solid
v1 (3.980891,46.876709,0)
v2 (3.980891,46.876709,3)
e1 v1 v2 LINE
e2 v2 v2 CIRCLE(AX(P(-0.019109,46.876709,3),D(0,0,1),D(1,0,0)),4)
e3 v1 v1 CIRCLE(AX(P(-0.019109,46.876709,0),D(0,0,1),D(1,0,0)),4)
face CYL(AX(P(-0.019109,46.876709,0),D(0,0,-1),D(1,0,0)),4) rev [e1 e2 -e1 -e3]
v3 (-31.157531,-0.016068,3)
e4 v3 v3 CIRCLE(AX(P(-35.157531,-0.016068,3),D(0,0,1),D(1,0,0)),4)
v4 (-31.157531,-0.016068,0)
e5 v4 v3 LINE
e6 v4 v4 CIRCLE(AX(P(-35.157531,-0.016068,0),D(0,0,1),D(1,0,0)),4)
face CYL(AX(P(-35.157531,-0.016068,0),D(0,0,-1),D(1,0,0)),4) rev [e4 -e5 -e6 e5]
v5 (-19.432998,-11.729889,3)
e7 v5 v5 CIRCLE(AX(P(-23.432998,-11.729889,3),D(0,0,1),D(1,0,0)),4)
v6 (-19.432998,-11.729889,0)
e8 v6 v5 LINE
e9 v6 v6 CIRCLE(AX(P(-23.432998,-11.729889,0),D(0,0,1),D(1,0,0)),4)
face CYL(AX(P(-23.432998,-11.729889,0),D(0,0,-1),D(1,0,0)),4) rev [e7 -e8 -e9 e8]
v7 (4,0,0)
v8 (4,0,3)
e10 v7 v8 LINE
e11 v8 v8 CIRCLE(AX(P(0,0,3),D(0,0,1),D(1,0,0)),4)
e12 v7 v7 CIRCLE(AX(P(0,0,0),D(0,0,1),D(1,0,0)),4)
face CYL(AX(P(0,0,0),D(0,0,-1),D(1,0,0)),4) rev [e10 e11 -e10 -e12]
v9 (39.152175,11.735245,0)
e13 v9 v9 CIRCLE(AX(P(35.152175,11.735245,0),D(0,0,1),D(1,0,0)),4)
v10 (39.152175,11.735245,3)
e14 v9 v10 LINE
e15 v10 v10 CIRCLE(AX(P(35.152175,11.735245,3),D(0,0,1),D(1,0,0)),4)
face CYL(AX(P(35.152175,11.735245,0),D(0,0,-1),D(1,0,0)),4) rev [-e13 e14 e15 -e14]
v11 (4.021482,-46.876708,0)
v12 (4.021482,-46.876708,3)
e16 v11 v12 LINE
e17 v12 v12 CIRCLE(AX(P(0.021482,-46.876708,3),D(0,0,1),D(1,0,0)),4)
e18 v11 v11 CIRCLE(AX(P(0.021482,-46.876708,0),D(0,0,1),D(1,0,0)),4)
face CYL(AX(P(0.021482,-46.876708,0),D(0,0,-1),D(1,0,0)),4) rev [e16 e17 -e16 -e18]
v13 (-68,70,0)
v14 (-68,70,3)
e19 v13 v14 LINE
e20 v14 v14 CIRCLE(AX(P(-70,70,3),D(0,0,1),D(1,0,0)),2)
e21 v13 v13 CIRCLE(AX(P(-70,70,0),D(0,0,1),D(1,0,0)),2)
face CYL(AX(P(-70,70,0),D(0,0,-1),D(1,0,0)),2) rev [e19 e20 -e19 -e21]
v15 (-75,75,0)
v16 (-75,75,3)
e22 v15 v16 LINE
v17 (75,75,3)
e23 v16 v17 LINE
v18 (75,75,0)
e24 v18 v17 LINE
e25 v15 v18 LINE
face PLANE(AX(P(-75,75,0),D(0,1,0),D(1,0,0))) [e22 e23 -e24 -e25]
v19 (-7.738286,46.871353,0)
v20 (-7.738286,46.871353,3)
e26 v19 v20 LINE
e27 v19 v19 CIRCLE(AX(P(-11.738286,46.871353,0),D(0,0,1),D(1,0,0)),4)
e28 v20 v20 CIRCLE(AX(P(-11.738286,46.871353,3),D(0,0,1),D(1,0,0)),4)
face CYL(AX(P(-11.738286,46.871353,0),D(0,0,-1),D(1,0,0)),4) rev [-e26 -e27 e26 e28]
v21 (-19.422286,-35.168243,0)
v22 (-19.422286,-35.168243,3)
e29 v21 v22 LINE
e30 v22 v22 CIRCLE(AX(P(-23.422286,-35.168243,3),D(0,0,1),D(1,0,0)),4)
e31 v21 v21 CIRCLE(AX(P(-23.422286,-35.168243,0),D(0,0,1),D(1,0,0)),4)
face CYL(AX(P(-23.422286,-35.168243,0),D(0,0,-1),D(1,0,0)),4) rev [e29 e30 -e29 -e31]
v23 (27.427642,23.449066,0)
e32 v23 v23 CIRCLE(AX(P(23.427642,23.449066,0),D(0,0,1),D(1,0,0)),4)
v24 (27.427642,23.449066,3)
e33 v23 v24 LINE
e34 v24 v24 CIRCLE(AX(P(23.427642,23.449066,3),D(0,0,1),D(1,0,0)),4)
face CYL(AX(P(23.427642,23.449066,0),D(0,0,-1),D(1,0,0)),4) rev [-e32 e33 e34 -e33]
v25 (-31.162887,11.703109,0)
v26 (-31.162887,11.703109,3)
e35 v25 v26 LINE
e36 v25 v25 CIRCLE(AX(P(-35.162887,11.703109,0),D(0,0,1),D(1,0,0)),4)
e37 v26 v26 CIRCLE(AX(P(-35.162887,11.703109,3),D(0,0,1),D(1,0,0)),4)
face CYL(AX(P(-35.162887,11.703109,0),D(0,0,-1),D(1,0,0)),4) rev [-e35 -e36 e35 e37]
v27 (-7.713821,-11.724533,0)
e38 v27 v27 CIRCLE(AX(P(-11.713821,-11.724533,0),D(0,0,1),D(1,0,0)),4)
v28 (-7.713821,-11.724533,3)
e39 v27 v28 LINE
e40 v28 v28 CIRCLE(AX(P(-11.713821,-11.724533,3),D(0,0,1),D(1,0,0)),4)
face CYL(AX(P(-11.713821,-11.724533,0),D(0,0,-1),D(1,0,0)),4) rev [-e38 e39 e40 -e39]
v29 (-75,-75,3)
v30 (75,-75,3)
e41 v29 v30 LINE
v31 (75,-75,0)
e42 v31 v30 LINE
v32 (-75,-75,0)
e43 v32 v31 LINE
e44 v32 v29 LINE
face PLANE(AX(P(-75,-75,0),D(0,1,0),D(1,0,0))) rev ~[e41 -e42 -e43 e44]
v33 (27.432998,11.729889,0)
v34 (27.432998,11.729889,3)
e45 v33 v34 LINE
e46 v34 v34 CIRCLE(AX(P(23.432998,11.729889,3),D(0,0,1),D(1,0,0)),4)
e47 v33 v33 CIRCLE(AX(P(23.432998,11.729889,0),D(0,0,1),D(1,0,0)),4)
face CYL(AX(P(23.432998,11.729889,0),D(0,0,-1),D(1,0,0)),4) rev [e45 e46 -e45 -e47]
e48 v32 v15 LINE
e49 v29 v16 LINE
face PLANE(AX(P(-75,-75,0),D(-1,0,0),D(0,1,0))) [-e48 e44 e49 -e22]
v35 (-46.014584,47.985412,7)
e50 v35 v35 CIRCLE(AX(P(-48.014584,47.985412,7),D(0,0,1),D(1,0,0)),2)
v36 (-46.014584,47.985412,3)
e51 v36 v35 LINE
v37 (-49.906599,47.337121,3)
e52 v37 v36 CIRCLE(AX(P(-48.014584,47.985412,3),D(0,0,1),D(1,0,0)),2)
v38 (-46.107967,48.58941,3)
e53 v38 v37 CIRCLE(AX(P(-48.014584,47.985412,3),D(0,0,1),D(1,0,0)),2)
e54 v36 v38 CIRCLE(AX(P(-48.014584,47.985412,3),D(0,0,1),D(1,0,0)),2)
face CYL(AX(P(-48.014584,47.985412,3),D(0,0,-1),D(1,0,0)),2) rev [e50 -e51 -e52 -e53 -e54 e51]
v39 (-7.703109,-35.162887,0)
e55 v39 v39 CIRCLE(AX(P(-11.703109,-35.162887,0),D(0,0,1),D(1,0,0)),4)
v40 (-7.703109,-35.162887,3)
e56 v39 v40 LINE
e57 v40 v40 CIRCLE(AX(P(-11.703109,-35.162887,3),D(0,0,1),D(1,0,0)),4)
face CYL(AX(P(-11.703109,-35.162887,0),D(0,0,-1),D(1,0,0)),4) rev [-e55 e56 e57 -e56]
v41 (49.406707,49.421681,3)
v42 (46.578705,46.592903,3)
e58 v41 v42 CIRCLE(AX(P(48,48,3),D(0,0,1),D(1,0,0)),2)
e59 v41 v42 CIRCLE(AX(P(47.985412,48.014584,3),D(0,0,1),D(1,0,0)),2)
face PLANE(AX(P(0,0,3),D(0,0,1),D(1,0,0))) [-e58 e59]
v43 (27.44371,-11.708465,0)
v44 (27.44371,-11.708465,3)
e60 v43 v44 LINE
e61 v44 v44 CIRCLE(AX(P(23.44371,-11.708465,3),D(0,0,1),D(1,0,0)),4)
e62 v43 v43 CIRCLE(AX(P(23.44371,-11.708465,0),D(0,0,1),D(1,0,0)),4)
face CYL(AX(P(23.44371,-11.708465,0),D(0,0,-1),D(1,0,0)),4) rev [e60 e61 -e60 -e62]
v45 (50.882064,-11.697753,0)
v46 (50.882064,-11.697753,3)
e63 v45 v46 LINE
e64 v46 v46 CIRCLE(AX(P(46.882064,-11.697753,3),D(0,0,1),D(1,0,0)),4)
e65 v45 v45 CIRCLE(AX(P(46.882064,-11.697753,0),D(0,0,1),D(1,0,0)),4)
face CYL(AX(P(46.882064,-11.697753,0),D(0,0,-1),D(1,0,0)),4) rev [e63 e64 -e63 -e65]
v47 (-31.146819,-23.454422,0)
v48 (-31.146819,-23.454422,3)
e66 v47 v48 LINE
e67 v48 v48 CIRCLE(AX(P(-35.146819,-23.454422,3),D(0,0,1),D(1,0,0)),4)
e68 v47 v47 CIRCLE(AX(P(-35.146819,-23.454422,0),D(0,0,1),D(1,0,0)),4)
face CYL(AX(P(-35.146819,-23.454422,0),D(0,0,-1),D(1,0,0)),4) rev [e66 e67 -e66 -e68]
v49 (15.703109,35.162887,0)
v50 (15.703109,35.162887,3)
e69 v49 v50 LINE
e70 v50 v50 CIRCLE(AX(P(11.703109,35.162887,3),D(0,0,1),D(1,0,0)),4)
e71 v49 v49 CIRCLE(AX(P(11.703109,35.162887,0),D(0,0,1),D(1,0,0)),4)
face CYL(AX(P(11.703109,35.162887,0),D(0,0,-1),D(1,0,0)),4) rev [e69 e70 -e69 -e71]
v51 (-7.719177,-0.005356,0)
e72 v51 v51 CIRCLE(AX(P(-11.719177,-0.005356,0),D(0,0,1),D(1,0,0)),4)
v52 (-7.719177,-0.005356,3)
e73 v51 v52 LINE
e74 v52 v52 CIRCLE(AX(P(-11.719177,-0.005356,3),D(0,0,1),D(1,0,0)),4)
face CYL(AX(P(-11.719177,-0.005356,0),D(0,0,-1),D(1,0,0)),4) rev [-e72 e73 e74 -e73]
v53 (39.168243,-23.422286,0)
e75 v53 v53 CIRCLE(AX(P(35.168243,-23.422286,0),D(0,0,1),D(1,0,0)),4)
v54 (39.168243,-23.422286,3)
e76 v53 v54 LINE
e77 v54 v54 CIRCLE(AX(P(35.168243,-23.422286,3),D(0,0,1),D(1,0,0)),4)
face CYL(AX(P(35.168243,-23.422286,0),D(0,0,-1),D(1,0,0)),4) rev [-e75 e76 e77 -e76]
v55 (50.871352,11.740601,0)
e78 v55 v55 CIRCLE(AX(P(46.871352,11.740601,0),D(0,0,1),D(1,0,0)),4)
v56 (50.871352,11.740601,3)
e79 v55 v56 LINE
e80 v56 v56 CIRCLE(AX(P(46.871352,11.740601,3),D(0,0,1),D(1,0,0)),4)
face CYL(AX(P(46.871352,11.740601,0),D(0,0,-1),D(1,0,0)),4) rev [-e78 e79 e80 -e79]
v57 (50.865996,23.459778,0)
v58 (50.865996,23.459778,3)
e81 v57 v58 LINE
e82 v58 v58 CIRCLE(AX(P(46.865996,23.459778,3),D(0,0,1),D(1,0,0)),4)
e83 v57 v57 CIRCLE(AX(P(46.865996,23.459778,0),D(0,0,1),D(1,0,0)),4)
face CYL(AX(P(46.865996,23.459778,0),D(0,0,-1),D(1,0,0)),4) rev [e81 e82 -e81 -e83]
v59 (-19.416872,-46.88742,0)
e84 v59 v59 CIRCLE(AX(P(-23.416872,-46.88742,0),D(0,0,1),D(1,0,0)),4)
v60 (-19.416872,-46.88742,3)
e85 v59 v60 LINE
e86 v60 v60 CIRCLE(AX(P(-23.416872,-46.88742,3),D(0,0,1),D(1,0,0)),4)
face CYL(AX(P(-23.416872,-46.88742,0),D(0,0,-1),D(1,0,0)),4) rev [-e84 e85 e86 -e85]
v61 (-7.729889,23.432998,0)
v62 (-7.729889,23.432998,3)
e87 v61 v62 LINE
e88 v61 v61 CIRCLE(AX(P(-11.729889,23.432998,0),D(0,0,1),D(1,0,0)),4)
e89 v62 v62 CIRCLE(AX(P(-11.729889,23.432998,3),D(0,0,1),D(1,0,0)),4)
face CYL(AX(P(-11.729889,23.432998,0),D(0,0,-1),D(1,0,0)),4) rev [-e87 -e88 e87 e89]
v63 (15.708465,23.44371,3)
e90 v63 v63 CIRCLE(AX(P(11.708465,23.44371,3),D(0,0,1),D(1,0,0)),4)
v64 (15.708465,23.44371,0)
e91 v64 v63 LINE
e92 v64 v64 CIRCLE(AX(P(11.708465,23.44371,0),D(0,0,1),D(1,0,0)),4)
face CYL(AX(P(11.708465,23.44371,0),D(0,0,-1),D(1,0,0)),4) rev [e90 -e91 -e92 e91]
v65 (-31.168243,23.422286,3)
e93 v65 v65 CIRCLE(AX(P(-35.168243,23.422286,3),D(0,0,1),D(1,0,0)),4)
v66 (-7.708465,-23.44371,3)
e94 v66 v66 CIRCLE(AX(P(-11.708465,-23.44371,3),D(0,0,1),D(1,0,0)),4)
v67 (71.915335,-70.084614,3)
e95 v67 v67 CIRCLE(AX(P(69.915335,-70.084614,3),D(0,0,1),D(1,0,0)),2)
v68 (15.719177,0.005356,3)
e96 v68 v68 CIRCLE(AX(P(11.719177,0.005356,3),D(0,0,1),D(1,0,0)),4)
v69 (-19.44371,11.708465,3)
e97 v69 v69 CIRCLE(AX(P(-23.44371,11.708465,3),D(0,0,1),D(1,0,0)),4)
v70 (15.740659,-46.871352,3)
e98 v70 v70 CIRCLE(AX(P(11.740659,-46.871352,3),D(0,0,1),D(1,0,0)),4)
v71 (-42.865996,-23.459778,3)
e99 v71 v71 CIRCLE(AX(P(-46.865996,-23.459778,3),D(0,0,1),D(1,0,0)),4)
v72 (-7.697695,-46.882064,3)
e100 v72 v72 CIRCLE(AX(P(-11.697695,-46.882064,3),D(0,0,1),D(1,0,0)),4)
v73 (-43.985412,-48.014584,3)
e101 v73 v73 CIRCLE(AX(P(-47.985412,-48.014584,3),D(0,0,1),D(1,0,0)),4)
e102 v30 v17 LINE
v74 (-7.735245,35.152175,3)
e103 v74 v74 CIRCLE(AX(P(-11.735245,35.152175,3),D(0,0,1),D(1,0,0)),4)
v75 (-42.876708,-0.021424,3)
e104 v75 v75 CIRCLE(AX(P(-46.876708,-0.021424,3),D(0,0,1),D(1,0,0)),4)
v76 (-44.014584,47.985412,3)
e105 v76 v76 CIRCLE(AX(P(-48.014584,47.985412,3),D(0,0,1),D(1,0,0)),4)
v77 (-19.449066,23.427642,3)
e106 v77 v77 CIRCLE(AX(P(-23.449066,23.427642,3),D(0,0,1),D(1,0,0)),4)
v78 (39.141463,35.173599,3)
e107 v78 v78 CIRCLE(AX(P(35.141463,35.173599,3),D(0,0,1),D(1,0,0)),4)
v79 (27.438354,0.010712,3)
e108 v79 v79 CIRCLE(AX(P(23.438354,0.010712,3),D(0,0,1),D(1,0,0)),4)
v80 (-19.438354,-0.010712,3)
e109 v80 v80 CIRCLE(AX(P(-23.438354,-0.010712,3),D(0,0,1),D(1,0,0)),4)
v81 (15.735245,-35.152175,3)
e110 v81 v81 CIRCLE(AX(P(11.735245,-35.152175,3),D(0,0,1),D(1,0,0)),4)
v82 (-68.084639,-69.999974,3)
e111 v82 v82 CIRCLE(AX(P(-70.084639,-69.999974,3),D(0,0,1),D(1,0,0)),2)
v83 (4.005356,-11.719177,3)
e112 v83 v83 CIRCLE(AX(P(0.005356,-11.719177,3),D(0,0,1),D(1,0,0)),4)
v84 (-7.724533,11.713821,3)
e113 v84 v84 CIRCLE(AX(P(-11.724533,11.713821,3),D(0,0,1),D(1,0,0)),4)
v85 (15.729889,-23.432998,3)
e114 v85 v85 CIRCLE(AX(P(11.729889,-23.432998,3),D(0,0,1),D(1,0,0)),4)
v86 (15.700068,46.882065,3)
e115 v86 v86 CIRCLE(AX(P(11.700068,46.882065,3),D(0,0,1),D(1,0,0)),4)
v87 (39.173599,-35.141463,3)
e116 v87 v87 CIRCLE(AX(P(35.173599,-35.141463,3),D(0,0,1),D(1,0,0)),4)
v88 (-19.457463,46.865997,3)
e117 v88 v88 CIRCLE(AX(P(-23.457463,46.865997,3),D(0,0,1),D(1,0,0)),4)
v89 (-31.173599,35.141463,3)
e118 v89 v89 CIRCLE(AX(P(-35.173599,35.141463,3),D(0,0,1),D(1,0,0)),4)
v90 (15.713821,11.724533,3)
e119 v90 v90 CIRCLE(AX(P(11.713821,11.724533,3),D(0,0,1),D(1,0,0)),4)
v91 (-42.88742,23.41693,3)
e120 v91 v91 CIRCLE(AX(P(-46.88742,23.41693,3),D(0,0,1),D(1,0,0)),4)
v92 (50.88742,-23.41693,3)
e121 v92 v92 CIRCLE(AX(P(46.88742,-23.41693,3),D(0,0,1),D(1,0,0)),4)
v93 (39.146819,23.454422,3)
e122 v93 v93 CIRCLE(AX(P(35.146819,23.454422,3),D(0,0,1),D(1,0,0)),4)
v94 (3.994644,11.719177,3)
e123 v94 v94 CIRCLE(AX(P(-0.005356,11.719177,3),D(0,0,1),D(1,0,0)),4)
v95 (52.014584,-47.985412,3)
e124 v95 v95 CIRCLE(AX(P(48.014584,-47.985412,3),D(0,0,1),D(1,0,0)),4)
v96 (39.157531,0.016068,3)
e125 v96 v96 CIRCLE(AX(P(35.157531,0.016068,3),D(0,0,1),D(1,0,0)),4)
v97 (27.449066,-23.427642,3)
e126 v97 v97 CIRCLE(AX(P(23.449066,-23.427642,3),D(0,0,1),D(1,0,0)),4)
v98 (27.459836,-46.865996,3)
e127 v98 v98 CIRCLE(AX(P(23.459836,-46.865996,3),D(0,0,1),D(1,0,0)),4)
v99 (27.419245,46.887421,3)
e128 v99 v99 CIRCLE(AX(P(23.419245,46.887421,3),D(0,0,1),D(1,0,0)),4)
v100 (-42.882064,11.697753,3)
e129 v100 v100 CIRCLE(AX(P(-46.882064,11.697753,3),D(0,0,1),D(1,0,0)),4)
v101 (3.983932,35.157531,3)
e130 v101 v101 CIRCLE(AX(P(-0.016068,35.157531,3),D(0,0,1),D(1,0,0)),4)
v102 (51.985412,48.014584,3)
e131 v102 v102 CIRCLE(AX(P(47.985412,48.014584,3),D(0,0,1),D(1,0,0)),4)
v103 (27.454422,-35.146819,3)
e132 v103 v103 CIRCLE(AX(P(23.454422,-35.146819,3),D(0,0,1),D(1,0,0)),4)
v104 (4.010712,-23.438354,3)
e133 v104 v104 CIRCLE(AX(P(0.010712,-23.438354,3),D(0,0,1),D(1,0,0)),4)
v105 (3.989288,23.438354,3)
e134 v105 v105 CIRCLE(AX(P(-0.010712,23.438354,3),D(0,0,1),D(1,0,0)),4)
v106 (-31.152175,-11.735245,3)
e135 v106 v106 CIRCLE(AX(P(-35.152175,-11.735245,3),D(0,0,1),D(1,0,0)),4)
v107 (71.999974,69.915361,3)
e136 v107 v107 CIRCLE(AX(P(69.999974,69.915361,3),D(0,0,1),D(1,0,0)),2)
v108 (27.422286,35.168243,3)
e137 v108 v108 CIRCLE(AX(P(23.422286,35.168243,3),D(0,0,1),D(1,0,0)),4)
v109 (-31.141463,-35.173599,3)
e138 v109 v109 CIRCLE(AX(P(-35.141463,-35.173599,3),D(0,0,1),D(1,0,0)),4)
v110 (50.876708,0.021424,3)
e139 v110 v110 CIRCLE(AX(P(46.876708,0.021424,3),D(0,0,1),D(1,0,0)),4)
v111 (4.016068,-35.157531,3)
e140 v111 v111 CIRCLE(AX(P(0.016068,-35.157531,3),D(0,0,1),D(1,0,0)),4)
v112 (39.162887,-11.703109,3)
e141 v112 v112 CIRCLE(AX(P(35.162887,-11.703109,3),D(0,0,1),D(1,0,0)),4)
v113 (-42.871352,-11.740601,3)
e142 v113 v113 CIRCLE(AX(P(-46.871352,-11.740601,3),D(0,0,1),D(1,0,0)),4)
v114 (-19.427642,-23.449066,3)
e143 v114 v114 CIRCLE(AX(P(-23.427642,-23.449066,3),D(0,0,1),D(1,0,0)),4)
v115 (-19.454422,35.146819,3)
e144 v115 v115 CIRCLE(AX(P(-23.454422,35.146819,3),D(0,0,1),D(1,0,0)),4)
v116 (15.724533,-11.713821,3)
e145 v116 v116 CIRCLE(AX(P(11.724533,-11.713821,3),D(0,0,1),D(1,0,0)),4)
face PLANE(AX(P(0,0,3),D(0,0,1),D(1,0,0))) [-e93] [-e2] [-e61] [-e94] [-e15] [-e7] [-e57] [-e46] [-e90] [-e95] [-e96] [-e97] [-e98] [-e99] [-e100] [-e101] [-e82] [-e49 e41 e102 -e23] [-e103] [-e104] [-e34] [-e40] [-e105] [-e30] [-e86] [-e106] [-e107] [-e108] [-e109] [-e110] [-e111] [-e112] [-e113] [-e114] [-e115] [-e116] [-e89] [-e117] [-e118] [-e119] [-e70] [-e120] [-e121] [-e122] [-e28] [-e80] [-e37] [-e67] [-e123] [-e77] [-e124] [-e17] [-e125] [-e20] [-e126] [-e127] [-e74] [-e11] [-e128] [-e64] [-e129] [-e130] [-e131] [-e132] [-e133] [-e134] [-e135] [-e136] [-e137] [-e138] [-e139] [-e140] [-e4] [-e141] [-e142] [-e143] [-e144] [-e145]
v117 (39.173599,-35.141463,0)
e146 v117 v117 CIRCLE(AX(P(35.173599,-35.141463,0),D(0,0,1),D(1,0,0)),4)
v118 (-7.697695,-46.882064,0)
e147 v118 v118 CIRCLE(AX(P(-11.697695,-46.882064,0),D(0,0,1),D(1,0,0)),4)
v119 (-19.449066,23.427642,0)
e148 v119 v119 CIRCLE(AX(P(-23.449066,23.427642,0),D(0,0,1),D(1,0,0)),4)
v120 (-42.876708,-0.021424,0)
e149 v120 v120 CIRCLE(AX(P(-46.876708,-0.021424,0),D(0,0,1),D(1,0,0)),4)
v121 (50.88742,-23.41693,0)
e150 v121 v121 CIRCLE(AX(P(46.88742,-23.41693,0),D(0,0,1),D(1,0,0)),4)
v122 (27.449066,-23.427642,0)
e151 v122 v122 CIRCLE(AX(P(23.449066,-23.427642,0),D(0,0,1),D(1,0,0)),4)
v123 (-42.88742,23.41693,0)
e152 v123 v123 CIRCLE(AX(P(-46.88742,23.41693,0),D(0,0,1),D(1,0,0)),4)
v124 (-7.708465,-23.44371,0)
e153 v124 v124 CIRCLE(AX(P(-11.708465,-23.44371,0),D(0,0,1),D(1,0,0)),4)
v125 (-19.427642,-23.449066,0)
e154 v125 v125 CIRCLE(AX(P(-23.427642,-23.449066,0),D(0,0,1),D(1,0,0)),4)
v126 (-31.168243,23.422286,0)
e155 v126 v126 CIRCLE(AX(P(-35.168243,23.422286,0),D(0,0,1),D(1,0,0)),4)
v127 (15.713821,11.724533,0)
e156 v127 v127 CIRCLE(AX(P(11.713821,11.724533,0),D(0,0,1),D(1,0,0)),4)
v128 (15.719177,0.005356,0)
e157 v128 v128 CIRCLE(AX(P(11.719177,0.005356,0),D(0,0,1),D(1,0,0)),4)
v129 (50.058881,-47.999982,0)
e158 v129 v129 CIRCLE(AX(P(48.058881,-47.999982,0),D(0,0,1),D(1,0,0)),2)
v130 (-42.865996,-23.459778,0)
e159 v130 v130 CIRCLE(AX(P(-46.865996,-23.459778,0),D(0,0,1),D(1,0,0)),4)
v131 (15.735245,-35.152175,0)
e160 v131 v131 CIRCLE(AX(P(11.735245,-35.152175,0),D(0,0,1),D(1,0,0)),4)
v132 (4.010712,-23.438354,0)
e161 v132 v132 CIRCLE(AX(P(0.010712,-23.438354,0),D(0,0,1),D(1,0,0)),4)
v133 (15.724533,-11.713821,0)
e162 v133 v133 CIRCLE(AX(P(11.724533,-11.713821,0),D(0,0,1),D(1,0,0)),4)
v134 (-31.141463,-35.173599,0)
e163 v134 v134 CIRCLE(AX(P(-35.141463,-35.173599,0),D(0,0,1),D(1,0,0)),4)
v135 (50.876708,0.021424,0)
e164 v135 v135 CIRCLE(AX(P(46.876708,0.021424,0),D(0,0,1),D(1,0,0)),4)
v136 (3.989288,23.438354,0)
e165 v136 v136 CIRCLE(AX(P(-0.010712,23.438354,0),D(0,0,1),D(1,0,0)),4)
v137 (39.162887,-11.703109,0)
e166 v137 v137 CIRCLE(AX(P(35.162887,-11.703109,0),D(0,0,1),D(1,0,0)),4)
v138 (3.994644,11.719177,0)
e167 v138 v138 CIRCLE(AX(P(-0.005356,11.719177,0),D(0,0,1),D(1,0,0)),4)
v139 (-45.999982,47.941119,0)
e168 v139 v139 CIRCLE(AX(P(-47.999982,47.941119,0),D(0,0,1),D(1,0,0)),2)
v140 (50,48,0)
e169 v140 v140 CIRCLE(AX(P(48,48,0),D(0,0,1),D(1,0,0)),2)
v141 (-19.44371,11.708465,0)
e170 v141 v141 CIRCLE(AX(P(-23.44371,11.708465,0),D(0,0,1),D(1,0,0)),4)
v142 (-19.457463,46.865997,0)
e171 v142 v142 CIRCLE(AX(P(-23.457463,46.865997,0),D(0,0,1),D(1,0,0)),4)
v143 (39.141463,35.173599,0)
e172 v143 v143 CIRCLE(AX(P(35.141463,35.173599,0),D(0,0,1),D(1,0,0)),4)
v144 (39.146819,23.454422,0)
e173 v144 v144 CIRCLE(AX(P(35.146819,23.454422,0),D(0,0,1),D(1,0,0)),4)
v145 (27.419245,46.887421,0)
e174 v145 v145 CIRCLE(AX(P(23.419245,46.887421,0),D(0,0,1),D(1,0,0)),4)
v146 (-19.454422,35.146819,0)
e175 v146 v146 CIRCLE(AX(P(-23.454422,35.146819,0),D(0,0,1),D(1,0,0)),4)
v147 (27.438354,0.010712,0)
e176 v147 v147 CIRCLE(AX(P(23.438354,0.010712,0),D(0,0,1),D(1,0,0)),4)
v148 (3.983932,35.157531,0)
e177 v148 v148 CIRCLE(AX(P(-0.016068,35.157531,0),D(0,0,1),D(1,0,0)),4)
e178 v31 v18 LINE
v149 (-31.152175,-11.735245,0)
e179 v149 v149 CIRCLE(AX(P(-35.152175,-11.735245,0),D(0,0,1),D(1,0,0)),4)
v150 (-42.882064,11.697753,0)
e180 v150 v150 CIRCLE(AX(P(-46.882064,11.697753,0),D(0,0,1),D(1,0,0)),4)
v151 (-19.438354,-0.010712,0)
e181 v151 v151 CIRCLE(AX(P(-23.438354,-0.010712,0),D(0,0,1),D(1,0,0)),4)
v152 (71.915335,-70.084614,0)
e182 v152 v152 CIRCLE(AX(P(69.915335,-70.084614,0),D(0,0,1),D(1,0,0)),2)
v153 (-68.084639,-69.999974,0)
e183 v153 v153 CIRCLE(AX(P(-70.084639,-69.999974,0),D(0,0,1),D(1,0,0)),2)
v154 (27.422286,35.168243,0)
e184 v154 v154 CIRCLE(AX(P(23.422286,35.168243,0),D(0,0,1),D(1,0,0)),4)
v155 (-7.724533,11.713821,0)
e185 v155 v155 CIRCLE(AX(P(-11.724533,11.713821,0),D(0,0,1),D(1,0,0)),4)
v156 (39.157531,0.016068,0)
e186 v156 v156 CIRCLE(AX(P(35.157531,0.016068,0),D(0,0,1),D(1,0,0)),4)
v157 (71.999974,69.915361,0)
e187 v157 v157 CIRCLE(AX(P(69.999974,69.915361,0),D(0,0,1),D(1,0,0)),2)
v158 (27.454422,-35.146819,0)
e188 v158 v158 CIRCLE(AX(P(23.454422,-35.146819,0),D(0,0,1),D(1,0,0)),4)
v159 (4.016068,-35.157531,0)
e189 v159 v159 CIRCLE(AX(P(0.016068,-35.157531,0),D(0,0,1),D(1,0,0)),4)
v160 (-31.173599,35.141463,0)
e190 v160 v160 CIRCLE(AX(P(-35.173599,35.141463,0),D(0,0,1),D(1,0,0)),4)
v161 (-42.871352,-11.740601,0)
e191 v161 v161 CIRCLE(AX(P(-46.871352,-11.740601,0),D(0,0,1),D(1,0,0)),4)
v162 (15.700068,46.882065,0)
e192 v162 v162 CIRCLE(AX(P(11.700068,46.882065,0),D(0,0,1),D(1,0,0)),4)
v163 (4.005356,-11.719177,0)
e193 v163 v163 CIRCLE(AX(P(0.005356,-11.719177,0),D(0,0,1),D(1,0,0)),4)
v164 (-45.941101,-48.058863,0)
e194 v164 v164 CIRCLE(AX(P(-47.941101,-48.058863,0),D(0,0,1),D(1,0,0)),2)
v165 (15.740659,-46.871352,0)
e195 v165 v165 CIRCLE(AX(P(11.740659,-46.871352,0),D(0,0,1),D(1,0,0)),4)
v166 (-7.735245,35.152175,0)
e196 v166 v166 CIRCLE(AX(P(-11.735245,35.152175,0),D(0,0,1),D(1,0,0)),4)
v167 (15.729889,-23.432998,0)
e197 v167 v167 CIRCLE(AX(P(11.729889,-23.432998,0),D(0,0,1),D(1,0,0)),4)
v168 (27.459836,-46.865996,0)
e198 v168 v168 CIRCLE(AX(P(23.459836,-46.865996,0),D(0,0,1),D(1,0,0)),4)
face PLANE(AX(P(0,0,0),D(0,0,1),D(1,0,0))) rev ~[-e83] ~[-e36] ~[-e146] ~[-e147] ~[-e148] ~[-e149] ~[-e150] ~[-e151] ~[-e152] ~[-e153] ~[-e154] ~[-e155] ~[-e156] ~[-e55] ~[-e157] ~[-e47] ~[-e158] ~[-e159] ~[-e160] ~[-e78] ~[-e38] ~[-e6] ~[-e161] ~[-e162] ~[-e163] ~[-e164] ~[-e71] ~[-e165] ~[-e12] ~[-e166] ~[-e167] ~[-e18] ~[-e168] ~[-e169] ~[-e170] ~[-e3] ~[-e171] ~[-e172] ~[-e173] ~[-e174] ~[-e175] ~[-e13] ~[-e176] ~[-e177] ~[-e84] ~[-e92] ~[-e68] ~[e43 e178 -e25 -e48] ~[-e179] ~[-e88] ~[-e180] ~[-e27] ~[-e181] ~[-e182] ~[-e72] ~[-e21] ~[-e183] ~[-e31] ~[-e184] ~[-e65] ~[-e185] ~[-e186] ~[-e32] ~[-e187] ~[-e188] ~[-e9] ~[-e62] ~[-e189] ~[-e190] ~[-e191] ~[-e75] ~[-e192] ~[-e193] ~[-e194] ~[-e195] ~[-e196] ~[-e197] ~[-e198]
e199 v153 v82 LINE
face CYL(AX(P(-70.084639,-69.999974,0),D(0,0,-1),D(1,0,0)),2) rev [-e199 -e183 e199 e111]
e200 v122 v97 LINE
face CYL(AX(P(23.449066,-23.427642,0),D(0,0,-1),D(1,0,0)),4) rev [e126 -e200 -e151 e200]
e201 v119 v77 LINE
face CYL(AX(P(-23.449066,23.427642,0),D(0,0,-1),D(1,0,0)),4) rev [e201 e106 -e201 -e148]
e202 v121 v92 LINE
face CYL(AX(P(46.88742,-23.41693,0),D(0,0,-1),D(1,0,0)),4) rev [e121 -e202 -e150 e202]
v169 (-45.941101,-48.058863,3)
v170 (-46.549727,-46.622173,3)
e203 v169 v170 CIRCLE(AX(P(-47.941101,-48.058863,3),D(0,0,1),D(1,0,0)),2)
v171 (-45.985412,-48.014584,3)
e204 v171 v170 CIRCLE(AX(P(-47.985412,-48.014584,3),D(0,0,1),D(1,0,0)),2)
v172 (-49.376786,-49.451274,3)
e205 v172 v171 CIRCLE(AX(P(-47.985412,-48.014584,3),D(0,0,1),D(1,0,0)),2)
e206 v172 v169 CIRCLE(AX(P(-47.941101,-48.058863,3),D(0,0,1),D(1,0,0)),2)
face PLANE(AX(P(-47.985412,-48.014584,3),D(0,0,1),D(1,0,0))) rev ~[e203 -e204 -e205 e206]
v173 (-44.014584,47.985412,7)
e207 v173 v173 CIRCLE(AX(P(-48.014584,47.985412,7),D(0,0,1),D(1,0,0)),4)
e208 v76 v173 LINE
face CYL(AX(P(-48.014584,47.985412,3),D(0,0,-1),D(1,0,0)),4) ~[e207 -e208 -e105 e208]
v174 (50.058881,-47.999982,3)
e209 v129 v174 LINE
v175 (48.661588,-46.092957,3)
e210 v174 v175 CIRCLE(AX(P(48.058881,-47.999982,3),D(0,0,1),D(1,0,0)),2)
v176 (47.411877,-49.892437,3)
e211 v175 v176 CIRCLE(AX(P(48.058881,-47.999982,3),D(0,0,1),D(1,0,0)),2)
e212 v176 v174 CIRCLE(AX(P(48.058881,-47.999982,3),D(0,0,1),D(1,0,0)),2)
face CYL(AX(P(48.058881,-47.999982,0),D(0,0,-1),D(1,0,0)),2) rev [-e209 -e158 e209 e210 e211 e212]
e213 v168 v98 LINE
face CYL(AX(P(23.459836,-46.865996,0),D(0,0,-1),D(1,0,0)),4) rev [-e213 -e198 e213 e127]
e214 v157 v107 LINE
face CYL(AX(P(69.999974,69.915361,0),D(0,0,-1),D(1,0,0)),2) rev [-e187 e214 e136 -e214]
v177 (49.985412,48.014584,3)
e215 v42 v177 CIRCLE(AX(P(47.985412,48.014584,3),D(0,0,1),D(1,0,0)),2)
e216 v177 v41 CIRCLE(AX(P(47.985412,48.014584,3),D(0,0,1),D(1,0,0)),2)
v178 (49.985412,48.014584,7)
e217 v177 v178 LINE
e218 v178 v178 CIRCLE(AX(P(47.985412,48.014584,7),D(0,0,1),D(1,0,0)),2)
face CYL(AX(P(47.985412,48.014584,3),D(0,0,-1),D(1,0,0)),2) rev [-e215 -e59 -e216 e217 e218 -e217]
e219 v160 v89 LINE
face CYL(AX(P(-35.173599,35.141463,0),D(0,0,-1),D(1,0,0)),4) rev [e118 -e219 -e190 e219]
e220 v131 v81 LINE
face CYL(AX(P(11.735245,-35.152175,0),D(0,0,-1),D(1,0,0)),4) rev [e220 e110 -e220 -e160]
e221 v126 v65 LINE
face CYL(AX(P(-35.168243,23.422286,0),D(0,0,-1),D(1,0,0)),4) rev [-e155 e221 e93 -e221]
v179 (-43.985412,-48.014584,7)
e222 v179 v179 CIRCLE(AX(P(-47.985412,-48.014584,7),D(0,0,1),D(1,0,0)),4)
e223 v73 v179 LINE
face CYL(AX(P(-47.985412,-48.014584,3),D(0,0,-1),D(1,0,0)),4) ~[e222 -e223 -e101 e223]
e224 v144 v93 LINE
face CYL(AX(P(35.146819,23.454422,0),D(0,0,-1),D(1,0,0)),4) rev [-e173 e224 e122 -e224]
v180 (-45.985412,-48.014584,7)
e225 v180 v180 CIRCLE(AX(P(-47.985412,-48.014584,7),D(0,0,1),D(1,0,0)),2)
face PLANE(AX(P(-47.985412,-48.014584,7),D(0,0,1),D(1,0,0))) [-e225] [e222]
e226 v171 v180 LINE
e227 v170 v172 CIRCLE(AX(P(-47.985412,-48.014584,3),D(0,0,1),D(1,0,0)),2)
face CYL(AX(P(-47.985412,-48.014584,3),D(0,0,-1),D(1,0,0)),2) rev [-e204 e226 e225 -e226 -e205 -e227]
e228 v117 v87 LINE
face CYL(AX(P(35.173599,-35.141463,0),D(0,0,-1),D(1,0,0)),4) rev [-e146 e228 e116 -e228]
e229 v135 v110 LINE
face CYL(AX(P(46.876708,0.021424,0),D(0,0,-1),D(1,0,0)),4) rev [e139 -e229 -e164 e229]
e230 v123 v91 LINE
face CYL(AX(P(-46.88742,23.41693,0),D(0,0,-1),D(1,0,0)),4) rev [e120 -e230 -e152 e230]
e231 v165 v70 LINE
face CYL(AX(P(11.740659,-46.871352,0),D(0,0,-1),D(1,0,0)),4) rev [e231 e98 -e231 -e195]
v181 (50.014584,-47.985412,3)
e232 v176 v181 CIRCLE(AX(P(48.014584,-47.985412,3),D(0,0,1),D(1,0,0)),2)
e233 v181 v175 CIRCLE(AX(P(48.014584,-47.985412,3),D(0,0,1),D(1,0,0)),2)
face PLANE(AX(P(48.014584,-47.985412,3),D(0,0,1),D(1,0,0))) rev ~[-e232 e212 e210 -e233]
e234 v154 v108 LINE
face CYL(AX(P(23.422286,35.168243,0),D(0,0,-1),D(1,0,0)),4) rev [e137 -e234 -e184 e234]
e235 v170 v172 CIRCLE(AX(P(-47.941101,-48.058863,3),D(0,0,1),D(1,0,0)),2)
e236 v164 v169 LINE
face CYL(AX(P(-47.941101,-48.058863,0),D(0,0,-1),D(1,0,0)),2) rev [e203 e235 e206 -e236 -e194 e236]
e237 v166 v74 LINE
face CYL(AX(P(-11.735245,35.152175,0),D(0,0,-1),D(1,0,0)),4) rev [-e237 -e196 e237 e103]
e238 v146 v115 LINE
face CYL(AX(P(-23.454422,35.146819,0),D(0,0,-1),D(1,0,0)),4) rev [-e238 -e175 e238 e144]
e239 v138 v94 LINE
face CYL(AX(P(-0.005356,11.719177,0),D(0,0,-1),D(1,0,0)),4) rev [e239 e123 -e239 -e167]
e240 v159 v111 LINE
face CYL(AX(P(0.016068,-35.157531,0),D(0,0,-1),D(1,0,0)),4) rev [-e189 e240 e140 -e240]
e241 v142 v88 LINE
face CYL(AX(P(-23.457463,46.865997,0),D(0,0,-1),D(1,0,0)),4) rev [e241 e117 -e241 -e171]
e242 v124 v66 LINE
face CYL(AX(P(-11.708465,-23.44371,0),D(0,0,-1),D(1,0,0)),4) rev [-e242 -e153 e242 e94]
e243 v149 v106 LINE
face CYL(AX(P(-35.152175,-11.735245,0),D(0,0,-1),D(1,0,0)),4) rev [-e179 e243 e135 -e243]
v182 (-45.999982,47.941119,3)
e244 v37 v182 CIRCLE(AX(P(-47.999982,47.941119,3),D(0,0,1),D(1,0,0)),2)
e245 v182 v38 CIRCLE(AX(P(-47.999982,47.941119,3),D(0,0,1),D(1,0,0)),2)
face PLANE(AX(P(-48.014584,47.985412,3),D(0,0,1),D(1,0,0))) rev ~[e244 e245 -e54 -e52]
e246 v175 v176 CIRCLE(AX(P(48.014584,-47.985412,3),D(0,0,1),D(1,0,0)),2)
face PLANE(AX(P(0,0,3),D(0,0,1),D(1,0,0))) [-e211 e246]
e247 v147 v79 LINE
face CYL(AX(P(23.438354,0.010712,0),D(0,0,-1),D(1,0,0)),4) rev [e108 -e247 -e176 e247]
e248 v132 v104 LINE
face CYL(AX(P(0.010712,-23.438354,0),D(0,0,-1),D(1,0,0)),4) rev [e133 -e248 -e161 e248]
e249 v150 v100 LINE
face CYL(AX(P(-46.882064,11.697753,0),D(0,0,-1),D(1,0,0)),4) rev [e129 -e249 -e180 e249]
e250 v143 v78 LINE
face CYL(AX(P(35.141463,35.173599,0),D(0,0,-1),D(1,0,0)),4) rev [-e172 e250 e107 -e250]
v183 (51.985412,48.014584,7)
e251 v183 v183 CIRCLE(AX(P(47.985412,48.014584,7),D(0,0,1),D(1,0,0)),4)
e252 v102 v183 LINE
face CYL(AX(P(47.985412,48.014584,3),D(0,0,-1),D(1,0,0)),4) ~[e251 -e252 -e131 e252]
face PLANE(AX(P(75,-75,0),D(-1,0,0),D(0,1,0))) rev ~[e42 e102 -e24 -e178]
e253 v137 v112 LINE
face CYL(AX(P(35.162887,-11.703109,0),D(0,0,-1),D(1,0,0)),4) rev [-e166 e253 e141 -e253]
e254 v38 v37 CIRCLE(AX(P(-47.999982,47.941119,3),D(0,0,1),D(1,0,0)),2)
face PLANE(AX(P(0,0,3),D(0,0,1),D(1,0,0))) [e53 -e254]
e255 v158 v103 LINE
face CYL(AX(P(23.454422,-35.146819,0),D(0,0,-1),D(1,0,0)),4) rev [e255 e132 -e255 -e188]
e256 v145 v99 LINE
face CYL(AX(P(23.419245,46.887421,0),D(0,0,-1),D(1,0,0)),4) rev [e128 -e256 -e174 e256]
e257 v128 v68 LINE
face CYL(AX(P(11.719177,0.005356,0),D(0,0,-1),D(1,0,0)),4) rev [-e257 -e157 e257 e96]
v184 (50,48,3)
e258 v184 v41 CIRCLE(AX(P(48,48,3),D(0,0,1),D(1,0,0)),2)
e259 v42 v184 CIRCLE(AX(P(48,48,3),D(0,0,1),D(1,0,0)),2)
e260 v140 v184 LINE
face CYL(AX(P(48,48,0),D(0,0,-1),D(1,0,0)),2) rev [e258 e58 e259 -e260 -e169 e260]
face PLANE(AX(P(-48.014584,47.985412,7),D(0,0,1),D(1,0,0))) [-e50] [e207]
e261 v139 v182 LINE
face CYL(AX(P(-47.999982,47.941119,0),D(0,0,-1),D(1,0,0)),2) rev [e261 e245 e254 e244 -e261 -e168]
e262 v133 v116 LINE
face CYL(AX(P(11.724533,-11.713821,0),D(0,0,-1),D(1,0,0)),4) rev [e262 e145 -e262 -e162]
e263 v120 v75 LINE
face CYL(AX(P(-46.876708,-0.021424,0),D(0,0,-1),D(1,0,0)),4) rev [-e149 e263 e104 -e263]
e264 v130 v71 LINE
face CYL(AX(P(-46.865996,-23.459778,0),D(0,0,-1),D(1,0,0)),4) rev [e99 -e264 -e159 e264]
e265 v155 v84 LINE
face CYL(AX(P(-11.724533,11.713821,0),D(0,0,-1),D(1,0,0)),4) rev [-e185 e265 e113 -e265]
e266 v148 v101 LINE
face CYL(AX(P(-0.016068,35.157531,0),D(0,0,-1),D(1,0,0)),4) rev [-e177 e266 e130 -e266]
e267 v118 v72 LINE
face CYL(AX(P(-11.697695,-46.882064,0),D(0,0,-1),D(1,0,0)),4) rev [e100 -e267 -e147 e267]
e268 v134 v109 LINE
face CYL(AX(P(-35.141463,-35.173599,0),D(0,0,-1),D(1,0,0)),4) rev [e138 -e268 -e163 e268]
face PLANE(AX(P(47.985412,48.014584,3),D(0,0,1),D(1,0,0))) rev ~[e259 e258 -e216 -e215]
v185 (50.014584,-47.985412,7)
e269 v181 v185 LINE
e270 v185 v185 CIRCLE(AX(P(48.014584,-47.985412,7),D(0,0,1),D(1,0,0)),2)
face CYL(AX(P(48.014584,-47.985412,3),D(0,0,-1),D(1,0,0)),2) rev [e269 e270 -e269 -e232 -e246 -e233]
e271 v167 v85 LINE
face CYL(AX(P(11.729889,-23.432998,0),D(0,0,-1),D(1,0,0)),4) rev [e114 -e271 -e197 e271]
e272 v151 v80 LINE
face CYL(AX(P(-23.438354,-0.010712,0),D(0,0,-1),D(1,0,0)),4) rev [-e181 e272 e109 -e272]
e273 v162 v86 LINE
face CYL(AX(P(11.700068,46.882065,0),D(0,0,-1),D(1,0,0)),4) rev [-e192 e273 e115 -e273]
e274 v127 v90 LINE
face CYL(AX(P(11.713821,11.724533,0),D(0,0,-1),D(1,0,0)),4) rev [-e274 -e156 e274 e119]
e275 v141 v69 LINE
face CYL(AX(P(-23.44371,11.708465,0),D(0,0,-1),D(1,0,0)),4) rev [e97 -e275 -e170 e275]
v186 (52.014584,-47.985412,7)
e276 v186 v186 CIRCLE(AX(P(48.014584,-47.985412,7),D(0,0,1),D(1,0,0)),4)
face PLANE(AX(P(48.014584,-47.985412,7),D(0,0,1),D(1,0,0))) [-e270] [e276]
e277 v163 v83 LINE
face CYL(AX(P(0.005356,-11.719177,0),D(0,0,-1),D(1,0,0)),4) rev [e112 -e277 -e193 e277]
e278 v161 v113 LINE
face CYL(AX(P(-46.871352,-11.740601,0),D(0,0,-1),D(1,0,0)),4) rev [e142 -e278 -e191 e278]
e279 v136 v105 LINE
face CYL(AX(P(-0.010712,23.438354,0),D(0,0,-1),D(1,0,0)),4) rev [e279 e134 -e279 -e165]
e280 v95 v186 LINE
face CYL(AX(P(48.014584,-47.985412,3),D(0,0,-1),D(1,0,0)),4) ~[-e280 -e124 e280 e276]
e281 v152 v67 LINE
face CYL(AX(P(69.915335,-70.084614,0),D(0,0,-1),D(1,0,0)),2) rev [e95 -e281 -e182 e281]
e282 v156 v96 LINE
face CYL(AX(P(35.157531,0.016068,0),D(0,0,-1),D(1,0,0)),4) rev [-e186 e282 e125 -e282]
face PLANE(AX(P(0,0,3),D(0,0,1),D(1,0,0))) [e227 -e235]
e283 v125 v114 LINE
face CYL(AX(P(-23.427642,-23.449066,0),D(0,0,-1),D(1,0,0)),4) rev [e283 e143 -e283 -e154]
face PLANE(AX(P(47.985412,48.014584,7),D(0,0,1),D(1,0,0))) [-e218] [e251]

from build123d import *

# Parameters (mm, degrees)
SKETCH_W      = 150
SKETCH_H      = 150
SKETCH_R      = 4
SKETCH_R_2    = 2
PAD_DEPTH     = 3
SKETCH001_R   = 4
SKETCH001_R_2 = 2
PAD001_DEPTH  = 4


with BuildPart() as part:
    # Sketch → Pad (new body)
    with BuildSketch(Plane.XY):
        Rectangle(SKETCH_W, SKETCH_H)
        with Locations((-23.457463, 46.865997)):
            Circle(SKETCH_R, mode=Mode.SUBTRACT)
        with Locations((-11.738286, 46.871353)):
            Circle(SKETCH_R, mode=Mode.SUBTRACT)
        with Locations((-0.019109, 46.876709)):
            Circle(SKETCH_R, mode=Mode.SUBTRACT)
        with Locations((11.700068, 46.882065)):
            Circle(SKETCH_R, mode=Mode.SUBTRACT)
        with Locations((23.419245, 46.887421)):
            Circle(SKETCH_R, mode=Mode.SUBTRACT)
        with Locations((-35.173599, 35.141463)):
            Circle(SKETCH_R, mode=Mode.SUBTRACT)
        with Locations((-23.454422, 35.146819)):
            Circle(SKETCH_R, mode=Mode.SUBTRACT)
        with Locations((-11.735245, 35.152175)):
            Circle(SKETCH_R, mode=Mode.SUBTRACT)
        with Locations((-0.016068, 35.157531)):
            Circle(SKETCH_R, mode=Mode.SUBTRACT)
        with Locations((11.703109, 35.162887)):
            Circle(SKETCH_R, mode=Mode.SUBTRACT)
        with Locations((23.422286, 35.168243)):
            Circle(SKETCH_R, mode=Mode.SUBTRACT)
        with Locations((35.141463, 35.173599)):
            Circle(SKETCH_R, mode=Mode.SUBTRACT)
        with Locations((-46.88742, 23.41693)):
            Circle(SKETCH_R, mode=Mode.SUBTRACT)
        with Locations((-35.168243, 23.422286)):
            Circle(SKETCH_R, mode=Mode.SUBTRACT)
        with Locations((-23.449066, 23.427642)):
            Circle(SKETCH_R, mode=Mode.SUBTRACT)
        with Locations((-11.729889, 23.432998)):
            Circle(SKETCH_R, mode=Mode.SUBTRACT)
        with Locations((-0.010712, 23.438354)):
            Circle(SKETCH_R, mode=Mode.SUBTRACT)
        with Locations((11.708465, 23.44371)):
            Circle(SKETCH_R, mode=Mode.SUBTRACT)
        with Locations((23.427642, 23.449066)):
            Circle(SKETCH_R, mode=Mode.SUBTRACT)
        with Locations((35.146819, 23.454422)):
            Circle(SKETCH_R, mode=Mode.SUBTRACT)
        with Locations((46.865996, 23.459778)):
            Circle(SKETCH_R, mode=Mode.SUBTRACT)
        with Locations((-46.882064, 11.697753)):
            Circle(SKETCH_R, mode=Mode.SUBTRACT)
        with Locations((-35.162887, 11.703109)):
            Circle(SKETCH_R, mode=Mode.SUBTRACT)
        with Locations((-23.44371, 11.708465)):
            Circle(SKETCH_R, mode=Mode.SUBTRACT)
        with Locations((-11.724533, 11.713821)):
            Circle(SKETCH_R, mode=Mode.SUBTRACT)
        with Locations((-0.005356, 11.719177)):
            Circle(SKETCH_R, mode=Mode.SUBTRACT)
        with Locations((11.713821, 11.724533)):
            Circle(SKETCH_R, mode=Mode.SUBTRACT)
        with Locations((23.432998, 11.729889)):
            Circle(SKETCH_R, mode=Mode.SUBTRACT)
        with Locations((35.152175, 11.735245)):
            Circle(SKETCH_R, mode=Mode.SUBTRACT)
        with Locations((46.871352, 11.740601)):
            Circle(SKETCH_R, mode=Mode.SUBTRACT)
        with Locations((-46.876708, -0.021424)):
            Circle(SKETCH_R, mode=Mode.SUBTRACT)
        with Locations((-35.157531, -0.016068)):
            Circle(SKETCH_R, mode=Mode.SUBTRACT)
        with Locations((-23.438354, -0.010712)):
            Circle(SKETCH_R, mode=Mode.SUBTRACT)
        with Locations((-11.719177, -0.005356)):
            Circle(SKETCH_R, mode=Mode.SUBTRACT)
        Circle(SKETCH_R, mode=Mode.SUBTRACT)
        with Locations((11.719177, 0.005356)):
            Circle(SKETCH_R, mode=Mode.SUBTRACT)
        with Locations((23.438354, 0.010712)):
            Circle(SKETCH_R, mode=Mode.SUBTRACT)
        with Locations((35.157531, 0.016068)):
            Circle(SKETCH_R, mode=Mode.SUBTRACT)
        with Locations((46.876708, 0.021424)):
            Circle(SKETCH_R, mode=Mode.SUBTRACT)
        with Locations((-46.871352, -11.740601)):
            Circle(SKETCH_R, mode=Mode.SUBTRACT)
        with Locations((-35.152175, -11.735245)):
            Circle(SKETCH_R, mode=Mode.SUBTRACT)
        with Locations((-23.432998, -11.729889)):
            Circle(SKETCH_R, mode=Mode.SUBTRACT)
        with Locations((-11.713821, -11.724533)):
            Circle(SKETCH_R, mode=Mode.SUBTRACT)
        with Locations((0.005356, -11.719177)):
            Circle(SKETCH_R, mode=Mode.SUBTRACT)
        with Locations((11.724533, -11.713821)):
            Circle(SKETCH_R, mode=Mode.SUBTRACT)
        with Locations((23.44371, -11.708465)):
            Circle(SKETCH_R, mode=Mode.SUBTRACT)
        with Locations((35.162887, -11.703109)):
            Circle(SKETCH_R, mode=Mode.SUBTRACT)
        with Locations((46.882064, -11.697753)):
            Circle(SKETCH_R, mode=Mode.SUBTRACT)
        with Locations((-46.865996, -23.459778)):
            Circle(SKETCH_R, mode=Mode.SUBTRACT)
        with Locations((-35.146819, -23.454422)):
            Circle(SKETCH_R, mode=Mode.SUBTRACT)
        with Locations((-23.427642, -23.449066)):
            Circle(SKETCH_R, mode=Mode.SUBTRACT)
        with Locations((-11.708465, -23.44371)):
            Circle(SKETCH_R, mode=Mode.SUBTRACT)
        with Locations((0.010712, -23.438354)):
            Circle(SKETCH_R, mode=Mode.SUBTRACT)
        with Locations((11.729889, -23.432998)):
            Circle(SKETCH_R, mode=Mode.SUBTRACT)
        with Locations((23.449066, -23.427642)):
            Circle(SKETCH_R, mode=Mode.SUBTRACT)
        with Locations((35.168243, -23.422286)):
            Circle(SKETCH_R, mode=Mode.SUBTRACT)
        with Locations((46.88742, -23.41693)):
            Circle(SKETCH_R, mode=Mode.SUBTRACT)
        with Locations((-35.141463, -35.173599)):
            Circle(SKETCH_R, mode=Mode.SUBTRACT)
        with Locations((-23.422286, -35.168243)):
            Circle(SKETCH_R, mode=Mode.SUBTRACT)
        with Locations((-11.703109, -35.162887)):
            Circle(SKETCH_R, mode=Mode.SUBTRACT)
        with Locations((0.016068, -35.157531)):
            Circle(SKETCH_R, mode=Mode.SUBTRACT)
        with Locations((11.735245, -35.152175)):
            Circle(SKETCH_R, mode=Mode.SUBTRACT)
        with Locations((23.454422, -35.146819)):
            Circle(SKETCH_R, mode=Mode.SUBTRACT)
        with Locations((35.173599, -35.141463)):
            Circle(SKETCH_R, mode=Mode.SUBTRACT)
        with Locations((-23.416872, -46.88742)):
            Circle(SKETCH_R, mode=Mode.SUBTRACT)
        with Locations((-11.697695, -46.882064)):
            Circle(SKETCH_R, mode=Mode.SUBTRACT)
        with Locations((0.021482, -46.876708)):
            Circle(SKETCH_R, mode=Mode.SUBTRACT)
        with Locations((11.740659, -46.871352)):
            Circle(SKETCH_R, mode=Mode.SUBTRACT)
        with Locations((23.459836, -46.865996)):
            Circle(SKETCH_R, mode=Mode.SUBTRACT)
        with Locations((-47.999982, 47.941119)):
            Circle(SKETCH_R_2, mode=Mode.SUBTRACT)
        with Locations((48, 48)):
            Circle(SKETCH_R_2, mode=Mode.SUBTRACT)
        with Locations((-47.941101, -48.058863)):
            Circle(SKETCH_R_2, mode=Mode.SUBTRACT)
        with Locations((48.058881, -47.999982)):
            Circle(SKETCH_R_2, mode=Mode.SUBTRACT)
        with Locations((-70, 70)):
            Circle(SKETCH_R_2, mode=Mode.SUBTRACT)
        with Locations((69.999974, 69.915361)):
            Circle(SKETCH_R_2, mode=Mode.SUBTRACT)
        with Locations((-70.084639, -69.999974)):
            Circle(SKETCH_R_2, mode=Mode.SUBTRACT)
        with Locations((69.915335, -70.084614)):
            Circle(SKETCH_R_2, mode=Mode.SUBTRACT)
    extrude(amount=PAD_DEPTH)

    # Sketch001 (on DatumPlane) → Pad001 (join)
    with BuildSketch(Plane.XY.offset(3)):
        with Locations((-48.014584, 47.985412)):
            Circle(SKETCH001_R)
        with Locations((-48.014584, 47.985412)):
            Circle(SKETCH001_R_2, mode=Mode.SUBTRACT)
        with Locations((47.985412, 48.014584)):
            Circle(SKETCH001_R)
        with Locations((47.985412, 48.014584)):
            Circle(SKETCH001_R_2, mode=Mode.SUBTRACT)
        with Locations((-47.985412, -48.014584)):
            Circle(SKETCH001_R)
        with Locations((-47.985412, -48.014584)):
            Circle(SKETCH001_R_2, mode=Mode.SUBTRACT)
        with Locations((48.014584, -47.985412)):
            Circle(SKETCH001_R)
        with Locations((48.014584, -47.985412)):
            Circle(SKETCH001_R_2, mode=Mode.SUBTRACT)
    extrude(amount=PAD001_DEPTH)


solid = part.part
